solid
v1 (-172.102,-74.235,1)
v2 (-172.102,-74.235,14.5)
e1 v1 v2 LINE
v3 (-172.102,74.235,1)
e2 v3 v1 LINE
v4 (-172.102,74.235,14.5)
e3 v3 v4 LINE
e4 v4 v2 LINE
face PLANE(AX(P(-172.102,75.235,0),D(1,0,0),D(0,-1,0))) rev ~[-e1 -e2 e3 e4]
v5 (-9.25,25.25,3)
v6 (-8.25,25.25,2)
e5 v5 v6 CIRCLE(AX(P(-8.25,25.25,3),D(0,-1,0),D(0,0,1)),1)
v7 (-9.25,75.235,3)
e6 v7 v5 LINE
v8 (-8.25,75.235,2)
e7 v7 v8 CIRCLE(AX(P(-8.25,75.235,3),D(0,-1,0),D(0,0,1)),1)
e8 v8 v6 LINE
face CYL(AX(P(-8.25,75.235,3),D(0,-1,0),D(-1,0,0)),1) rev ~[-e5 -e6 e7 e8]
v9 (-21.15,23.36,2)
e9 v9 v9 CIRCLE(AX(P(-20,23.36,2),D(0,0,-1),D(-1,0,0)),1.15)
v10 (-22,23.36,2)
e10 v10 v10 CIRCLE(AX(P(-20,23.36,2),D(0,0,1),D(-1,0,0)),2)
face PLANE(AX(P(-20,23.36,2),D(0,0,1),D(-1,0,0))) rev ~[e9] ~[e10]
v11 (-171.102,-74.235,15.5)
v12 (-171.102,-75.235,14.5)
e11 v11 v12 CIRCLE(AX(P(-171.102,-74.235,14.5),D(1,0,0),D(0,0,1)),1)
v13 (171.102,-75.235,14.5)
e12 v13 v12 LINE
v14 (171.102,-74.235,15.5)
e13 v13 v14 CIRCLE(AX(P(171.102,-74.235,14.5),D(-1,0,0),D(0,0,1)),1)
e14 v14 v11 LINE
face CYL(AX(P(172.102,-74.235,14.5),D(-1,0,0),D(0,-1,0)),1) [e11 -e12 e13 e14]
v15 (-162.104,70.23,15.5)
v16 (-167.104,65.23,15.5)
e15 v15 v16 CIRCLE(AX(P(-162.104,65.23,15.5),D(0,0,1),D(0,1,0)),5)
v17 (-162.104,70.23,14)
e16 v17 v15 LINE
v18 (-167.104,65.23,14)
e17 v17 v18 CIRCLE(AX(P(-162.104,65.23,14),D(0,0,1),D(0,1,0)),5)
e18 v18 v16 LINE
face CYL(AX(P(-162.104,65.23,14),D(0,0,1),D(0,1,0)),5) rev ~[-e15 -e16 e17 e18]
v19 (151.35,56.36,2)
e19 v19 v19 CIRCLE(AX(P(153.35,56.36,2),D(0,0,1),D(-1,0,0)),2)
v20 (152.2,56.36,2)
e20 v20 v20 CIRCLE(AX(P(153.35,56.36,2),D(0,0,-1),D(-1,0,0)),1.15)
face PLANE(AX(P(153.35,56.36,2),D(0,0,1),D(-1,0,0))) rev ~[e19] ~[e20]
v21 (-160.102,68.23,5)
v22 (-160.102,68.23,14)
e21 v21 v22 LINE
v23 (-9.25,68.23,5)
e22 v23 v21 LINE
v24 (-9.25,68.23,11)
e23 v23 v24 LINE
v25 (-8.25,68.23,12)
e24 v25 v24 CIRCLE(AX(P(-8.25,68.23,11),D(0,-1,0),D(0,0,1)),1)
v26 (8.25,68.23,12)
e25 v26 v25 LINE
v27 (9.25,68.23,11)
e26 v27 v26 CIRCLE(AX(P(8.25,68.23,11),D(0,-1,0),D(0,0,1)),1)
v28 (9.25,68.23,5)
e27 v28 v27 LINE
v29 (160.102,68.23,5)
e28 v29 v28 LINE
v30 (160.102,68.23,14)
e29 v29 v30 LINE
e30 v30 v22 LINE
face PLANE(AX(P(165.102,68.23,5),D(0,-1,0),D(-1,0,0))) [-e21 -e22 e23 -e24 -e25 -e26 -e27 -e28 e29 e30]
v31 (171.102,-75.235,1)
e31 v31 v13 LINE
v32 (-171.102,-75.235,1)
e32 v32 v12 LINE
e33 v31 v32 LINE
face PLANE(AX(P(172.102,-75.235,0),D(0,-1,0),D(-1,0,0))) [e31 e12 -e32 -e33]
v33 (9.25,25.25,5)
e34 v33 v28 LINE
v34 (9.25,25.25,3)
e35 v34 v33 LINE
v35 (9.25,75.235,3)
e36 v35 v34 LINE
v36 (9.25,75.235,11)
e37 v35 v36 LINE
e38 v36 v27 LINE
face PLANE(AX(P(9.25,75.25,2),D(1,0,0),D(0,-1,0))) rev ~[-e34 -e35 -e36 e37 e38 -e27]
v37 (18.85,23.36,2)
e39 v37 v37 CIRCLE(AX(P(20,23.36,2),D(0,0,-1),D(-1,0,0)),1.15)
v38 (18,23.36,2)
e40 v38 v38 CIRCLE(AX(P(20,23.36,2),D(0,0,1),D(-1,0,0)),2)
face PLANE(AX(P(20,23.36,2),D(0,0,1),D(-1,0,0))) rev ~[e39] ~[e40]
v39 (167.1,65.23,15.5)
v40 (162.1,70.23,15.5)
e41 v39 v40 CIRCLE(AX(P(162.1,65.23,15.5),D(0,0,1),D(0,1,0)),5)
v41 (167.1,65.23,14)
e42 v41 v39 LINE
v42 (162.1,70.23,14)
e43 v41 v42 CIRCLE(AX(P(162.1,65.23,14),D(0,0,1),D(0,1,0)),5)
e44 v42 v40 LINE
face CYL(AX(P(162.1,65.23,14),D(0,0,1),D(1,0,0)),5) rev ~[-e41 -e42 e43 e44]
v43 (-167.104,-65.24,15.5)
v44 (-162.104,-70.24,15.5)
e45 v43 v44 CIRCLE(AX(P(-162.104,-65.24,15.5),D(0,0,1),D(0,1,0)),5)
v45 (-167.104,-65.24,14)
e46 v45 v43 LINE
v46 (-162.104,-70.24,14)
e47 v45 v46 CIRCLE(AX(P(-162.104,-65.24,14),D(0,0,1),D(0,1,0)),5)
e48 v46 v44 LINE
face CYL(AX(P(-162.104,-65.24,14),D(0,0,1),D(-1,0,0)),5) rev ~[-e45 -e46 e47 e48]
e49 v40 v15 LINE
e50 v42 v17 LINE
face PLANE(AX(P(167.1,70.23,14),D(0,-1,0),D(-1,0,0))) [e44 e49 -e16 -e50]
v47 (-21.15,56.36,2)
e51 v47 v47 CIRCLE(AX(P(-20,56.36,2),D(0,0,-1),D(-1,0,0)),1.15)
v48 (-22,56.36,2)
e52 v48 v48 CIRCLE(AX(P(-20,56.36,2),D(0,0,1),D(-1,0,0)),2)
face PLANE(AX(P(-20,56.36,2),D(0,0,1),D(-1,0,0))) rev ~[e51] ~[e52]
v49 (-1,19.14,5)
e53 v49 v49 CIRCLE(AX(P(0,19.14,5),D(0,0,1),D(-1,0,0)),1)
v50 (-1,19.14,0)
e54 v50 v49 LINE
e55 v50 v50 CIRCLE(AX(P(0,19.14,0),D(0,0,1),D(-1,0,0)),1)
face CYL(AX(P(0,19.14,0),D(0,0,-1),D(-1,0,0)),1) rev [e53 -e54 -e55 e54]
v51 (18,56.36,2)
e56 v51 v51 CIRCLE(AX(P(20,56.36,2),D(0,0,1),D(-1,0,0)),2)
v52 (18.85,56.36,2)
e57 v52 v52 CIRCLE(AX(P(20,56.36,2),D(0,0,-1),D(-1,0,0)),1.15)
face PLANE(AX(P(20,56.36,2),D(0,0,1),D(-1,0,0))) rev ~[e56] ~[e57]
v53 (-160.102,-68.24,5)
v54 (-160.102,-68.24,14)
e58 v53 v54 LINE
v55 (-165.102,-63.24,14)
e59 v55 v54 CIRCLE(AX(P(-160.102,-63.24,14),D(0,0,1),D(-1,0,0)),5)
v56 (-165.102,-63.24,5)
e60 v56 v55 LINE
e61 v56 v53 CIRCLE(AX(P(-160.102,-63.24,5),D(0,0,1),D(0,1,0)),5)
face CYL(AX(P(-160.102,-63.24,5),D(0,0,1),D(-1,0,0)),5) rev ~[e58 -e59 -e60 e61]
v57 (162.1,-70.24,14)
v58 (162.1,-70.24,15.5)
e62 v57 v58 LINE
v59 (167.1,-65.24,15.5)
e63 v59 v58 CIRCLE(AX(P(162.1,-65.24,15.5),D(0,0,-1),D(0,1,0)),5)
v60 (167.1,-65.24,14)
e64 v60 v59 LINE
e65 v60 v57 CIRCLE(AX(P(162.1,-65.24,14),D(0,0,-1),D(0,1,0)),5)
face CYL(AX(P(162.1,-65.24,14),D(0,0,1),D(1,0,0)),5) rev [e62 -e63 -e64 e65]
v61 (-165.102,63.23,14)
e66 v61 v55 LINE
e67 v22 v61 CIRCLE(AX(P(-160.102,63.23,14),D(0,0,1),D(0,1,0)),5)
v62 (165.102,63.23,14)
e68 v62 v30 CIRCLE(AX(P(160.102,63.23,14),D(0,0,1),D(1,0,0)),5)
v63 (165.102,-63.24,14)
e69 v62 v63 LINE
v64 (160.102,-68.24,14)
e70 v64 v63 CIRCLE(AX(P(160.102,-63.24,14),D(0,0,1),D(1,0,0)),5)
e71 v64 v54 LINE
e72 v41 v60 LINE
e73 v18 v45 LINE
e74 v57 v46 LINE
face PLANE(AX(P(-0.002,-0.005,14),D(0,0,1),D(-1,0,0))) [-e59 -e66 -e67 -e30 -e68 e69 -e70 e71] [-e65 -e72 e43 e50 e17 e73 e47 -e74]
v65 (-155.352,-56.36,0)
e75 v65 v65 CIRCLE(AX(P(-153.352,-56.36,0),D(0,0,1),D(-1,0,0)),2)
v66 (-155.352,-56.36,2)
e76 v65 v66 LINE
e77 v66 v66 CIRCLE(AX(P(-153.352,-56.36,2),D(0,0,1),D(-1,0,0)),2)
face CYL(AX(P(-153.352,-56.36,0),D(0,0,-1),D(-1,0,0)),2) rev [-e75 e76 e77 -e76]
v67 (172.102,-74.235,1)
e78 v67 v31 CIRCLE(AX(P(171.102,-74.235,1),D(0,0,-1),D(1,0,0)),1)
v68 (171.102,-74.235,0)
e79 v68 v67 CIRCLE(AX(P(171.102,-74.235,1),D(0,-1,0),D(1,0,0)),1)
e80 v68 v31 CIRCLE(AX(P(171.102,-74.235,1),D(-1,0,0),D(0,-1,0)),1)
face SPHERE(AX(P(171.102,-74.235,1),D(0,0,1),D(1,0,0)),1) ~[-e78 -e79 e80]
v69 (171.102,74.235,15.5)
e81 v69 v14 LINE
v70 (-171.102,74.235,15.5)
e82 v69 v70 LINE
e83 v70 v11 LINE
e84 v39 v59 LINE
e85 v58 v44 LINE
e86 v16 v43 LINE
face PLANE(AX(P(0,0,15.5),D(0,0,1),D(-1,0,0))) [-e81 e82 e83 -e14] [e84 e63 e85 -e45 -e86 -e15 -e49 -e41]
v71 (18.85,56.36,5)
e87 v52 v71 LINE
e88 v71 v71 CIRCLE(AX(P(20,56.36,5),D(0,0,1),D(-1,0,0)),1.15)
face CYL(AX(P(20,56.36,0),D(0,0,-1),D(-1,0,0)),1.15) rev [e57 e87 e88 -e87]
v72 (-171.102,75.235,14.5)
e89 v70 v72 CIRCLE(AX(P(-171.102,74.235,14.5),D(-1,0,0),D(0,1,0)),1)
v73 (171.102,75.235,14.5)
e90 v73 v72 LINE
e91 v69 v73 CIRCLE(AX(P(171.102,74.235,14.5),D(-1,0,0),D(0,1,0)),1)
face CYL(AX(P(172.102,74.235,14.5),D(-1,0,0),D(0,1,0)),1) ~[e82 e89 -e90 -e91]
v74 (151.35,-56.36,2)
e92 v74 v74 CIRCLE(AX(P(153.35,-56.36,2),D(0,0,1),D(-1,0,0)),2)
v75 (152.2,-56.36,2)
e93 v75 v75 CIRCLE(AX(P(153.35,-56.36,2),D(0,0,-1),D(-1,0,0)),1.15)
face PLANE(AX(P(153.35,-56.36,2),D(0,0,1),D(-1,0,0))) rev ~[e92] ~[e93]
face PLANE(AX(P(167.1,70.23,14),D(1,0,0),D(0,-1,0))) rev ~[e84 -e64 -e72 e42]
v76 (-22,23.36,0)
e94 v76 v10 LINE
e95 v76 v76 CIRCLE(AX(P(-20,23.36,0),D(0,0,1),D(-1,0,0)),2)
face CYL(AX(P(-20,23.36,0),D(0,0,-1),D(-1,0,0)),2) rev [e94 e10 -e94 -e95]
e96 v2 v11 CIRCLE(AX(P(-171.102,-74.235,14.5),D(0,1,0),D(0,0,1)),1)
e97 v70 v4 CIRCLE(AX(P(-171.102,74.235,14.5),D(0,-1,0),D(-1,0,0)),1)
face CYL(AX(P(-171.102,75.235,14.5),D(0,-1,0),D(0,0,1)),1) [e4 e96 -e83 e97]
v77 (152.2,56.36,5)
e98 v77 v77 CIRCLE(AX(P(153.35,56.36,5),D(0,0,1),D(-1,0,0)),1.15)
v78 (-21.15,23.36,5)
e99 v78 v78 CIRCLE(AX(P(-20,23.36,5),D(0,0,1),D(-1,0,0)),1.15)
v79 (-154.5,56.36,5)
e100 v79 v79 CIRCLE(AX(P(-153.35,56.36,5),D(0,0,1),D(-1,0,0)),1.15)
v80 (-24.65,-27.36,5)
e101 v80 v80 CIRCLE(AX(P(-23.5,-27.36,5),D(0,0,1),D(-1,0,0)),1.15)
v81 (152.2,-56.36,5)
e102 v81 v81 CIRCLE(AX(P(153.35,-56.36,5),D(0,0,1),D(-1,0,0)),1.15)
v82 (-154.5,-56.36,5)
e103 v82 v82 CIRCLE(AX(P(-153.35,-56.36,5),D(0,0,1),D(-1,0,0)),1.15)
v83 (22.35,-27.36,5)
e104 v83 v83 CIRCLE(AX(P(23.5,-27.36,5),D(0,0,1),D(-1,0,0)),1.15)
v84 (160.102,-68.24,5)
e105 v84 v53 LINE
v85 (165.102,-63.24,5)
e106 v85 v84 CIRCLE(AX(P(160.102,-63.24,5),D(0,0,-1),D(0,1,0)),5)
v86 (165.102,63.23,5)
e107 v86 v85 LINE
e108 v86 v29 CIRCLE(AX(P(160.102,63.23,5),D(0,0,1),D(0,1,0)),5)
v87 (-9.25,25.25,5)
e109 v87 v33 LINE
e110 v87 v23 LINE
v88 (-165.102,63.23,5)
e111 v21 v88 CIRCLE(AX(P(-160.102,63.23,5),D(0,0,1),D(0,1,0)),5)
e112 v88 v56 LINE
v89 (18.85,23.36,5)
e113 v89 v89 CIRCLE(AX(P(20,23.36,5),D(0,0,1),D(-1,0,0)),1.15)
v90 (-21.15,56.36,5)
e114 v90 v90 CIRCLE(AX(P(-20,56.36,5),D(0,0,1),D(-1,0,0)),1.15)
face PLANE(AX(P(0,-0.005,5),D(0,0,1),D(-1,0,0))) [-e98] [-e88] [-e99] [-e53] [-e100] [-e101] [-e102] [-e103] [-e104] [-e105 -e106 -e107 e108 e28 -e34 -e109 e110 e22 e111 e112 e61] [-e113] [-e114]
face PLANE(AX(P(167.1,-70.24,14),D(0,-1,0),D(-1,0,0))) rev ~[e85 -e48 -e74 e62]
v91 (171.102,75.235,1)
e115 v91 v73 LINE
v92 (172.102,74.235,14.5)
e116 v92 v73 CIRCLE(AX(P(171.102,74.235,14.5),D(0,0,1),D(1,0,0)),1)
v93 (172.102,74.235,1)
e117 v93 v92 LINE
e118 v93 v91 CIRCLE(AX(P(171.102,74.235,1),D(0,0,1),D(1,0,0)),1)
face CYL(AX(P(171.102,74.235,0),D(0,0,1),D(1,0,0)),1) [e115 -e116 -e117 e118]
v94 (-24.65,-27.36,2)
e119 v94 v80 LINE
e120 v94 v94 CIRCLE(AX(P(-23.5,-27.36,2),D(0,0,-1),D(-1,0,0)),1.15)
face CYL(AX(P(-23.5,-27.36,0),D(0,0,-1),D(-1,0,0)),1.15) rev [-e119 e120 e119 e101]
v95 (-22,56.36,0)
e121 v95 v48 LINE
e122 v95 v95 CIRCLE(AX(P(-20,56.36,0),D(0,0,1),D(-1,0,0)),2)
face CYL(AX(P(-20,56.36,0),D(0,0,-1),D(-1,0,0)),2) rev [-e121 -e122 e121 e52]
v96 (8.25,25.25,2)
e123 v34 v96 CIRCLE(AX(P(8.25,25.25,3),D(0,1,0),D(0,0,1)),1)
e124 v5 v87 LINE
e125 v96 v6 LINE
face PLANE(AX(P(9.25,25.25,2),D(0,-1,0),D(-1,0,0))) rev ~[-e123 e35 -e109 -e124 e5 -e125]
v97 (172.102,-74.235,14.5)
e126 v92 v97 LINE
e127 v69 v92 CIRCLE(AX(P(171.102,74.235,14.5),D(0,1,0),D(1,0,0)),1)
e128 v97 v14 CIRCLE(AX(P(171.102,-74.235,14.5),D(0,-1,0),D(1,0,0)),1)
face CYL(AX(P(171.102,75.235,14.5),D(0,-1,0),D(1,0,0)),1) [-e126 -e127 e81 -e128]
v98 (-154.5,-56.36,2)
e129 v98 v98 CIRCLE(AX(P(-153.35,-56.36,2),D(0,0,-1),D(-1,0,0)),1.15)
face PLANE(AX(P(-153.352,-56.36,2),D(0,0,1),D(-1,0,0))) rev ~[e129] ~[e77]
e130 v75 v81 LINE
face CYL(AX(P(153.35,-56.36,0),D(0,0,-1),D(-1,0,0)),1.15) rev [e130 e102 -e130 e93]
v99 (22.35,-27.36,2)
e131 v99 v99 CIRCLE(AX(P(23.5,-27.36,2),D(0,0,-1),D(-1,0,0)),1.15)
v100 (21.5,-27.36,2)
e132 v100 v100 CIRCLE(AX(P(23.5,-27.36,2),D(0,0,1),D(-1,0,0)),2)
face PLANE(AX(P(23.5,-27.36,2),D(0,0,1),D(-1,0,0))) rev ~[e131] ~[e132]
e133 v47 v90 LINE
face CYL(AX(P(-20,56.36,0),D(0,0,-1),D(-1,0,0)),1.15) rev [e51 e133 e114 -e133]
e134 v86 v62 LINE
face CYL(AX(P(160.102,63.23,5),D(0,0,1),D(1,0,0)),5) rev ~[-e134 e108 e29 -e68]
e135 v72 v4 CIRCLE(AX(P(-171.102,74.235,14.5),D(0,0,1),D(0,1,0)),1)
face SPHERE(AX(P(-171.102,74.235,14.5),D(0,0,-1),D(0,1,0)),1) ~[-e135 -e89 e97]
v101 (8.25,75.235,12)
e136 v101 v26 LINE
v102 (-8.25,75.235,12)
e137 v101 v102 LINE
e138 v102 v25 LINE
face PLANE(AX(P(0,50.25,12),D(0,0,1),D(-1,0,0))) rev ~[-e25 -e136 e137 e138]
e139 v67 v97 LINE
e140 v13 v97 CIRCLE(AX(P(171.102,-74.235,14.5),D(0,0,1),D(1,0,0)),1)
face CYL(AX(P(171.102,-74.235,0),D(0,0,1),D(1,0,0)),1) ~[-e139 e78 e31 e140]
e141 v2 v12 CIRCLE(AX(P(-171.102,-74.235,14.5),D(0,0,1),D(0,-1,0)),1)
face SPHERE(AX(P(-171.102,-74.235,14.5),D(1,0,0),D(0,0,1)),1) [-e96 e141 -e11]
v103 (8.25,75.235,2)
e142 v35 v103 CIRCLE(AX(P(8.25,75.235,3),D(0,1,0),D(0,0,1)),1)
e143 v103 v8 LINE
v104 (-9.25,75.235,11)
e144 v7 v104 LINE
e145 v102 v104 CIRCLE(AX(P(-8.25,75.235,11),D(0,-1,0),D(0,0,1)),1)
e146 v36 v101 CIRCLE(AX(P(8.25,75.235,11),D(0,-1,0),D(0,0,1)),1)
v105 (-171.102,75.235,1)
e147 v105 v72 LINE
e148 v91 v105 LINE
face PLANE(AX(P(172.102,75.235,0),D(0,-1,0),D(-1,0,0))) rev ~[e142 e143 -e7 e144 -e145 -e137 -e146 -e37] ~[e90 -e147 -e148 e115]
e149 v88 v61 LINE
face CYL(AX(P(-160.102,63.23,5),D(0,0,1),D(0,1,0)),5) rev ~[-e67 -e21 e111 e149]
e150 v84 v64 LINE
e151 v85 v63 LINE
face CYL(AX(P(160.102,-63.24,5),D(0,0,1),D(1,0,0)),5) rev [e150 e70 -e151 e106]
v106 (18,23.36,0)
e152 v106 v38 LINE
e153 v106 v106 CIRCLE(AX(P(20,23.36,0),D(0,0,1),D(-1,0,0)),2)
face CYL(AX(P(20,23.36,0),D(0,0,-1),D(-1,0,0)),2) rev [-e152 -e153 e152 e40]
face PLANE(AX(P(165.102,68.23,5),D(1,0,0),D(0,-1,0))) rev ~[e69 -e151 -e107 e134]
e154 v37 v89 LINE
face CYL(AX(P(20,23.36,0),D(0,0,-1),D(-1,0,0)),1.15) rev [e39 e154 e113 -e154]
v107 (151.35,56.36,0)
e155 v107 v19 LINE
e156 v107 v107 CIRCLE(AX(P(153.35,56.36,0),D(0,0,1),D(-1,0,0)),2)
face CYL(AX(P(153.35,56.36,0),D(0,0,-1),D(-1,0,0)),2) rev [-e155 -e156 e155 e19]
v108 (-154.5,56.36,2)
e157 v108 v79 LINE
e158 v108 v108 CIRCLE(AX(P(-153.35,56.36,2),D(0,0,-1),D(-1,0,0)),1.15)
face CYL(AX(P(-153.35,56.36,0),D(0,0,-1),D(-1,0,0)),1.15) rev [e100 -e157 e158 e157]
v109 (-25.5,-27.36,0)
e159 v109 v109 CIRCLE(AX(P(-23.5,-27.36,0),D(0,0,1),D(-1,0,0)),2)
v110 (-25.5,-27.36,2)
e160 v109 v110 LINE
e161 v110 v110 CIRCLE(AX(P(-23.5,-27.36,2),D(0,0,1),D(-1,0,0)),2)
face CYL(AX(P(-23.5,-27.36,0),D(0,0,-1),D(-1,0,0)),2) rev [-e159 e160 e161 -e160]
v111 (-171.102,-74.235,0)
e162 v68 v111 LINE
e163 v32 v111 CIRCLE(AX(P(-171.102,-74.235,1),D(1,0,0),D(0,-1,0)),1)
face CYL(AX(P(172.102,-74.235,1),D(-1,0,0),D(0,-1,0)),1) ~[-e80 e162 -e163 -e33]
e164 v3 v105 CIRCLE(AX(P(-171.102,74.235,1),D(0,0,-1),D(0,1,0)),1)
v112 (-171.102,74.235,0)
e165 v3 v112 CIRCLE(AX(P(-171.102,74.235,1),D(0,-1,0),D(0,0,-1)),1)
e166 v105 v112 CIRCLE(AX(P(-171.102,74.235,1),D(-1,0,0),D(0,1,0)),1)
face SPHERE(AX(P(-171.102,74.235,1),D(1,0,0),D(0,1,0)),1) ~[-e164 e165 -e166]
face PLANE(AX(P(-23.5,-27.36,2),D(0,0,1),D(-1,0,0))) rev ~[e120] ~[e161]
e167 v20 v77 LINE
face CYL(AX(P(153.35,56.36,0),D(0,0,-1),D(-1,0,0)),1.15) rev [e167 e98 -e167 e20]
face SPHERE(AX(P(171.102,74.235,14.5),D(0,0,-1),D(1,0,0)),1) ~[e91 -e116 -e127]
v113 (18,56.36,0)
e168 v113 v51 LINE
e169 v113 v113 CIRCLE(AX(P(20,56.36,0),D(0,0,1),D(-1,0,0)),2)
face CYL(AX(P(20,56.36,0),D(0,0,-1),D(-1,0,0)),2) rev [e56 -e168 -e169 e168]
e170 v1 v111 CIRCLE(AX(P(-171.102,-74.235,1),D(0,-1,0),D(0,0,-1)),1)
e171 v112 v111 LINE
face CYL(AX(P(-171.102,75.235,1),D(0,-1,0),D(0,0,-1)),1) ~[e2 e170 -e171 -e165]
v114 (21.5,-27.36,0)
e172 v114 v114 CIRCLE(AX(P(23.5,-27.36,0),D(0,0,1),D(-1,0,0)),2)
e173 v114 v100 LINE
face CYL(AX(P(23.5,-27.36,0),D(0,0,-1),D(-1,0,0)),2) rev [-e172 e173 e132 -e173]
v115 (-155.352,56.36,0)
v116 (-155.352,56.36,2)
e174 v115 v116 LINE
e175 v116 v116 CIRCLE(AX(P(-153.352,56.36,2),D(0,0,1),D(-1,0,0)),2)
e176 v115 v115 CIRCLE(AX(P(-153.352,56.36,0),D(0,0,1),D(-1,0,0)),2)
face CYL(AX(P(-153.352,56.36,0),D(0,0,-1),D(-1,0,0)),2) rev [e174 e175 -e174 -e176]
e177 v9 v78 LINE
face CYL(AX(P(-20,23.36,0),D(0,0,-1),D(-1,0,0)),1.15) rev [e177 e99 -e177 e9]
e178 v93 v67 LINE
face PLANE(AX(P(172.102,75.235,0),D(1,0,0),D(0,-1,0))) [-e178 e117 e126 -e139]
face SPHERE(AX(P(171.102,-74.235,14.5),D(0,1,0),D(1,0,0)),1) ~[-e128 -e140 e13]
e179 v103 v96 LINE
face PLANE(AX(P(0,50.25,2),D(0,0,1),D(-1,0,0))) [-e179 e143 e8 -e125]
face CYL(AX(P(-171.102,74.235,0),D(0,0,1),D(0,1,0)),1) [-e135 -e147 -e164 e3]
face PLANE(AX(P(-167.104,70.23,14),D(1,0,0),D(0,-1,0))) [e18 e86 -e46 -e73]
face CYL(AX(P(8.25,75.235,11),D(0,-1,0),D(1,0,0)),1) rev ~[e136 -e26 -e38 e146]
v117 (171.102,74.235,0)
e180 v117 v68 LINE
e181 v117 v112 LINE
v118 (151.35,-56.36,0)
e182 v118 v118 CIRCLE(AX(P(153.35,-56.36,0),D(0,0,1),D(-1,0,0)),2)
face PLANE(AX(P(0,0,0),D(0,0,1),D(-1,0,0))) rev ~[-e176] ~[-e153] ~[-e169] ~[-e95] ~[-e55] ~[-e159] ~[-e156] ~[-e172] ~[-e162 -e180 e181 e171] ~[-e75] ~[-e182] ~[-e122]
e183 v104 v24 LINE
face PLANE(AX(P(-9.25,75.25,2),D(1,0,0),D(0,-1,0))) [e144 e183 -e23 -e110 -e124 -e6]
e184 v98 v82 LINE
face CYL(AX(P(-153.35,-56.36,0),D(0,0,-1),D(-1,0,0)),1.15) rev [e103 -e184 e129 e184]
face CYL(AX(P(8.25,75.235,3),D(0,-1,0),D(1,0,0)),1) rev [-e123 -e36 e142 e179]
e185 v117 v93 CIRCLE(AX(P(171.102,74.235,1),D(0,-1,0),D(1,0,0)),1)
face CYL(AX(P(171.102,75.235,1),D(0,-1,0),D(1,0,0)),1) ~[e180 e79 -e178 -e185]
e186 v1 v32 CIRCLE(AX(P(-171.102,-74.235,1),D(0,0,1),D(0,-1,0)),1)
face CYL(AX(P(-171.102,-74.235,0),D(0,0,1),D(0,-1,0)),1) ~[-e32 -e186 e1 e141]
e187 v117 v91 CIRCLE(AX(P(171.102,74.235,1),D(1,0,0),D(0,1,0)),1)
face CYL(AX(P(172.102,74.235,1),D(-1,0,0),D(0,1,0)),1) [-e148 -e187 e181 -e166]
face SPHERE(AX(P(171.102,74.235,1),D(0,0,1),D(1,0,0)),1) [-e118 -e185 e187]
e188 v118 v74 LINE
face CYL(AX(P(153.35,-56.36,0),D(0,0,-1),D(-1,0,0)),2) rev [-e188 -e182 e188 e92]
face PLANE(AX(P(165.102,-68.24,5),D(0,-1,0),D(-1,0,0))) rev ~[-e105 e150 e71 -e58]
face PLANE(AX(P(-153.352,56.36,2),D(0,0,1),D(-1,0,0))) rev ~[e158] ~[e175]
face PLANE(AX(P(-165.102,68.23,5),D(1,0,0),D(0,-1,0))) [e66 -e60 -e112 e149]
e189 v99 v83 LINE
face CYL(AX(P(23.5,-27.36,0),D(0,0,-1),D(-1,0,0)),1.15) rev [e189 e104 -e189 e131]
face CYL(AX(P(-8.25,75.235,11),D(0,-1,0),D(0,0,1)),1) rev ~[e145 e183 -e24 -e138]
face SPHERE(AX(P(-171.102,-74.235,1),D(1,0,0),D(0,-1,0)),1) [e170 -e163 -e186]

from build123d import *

# Parameters (mm, degrees)
CYLINDER016_R          = 2
CYLINDER016_DEPTH      = 2
CYLINDER012_R          = 2
CYLINDER012_DEPTH      = 2
CYLINDER015_R          = 2
CYLINDER015_DEPTH      = 2
CYLINDER017_R          = 2
CYLINDER017_DEPTH      = 2
CYLINDER013_R          = 2
CYLINDER013_DEPTH      = 2
CYLINDER014_R          = 2
CYLINDER014_DEPTH      = 2
CYLINDER018_R          = 2
CYLINDER018_DEPTH      = 2
CYLINDER019_R          = 2
CYLINDER019_DEPTH      = 2
CYLINDER020_R          = 2
CYLINDER020_DEPTH      = 2
CYLINDER011_R          = 2
CYLINDER011_DEPTH      = 2
BOX003_W               = 18.5
BOX003_H               = 50
BOX003_DEPTH           = 10
CYLINDER010_R          = 1
CYLINDER010_DEPTH      = 5
CYLINDER008_R          = 1.15
CYLINDER008_DEPTH      = 5
CYLINDER006_R          = 1.15
CYLINDER006_DEPTH      = 5
CYLINDER009_R          = 1.15
CYLINDER009_DEPTH      = 5
CYLINDER007_R          = 1.15
CYLINDER007_DEPTH      = 5
CYLINDER001_R          = 1.15
CYLINDER001_DEPTH      = 5
CYLINDER002_R          = 1.15
CYLINDER002_DEPTH      = 5
CYLINDER003_R          = 1.15
CYLINDER003_DEPTH      = 5
CYLINDER004_R          = 1.15
CYLINDER004_DEPTH      = 5
CYLINDER005_R          = 1.15
CYLINDER005_DEPTH      = 5
CYLINDER_R             = 1.15
CYLINDER_DEPTH         = 5
BOX001_W               = 334.204
BOX001_H               = 140.47
BOX001_DEPTH           = 1.5
FILLET001_R            = 5
BOX_W                  = 330.204
BOX_H                  = 136.47
BOX_DEPTH              = 10.5
FILLET_R               = 5
BOX002_W               = 344.204
BOX002_H               = 150.47
BOX002_DEPTH           = 15.5
FILLET002_R            = 1
FILLET003_R            = 1
CUT005_PLACEMENT_ANGLE = 180


with BuildPart() as cylinder016:
    # Cylinder016 → Cylinder016 (new body)
    with BuildSketch(Plane(origin=(23.5, 27.36, 0), x_dir=(1, 0, 0), z_dir=(0, 0, 1))):
        Circle(CYLINDER016_R)
    extrude(amount=CYLINDER016_DEPTH)


with BuildPart() as cylinder012:
    # Cylinder012 → Cylinder012 (new body)
    with BuildSketch(Plane(origin=(-153.35, 56.36, 0), x_dir=(1, 0, 0), z_dir=(0, 0, 1))):
        Circle(CYLINDER012_R)
    extrude(amount=CYLINDER012_DEPTH)


with BuildPart() as cylinder015:
    # Cylinder015 → Cylinder015 (new body)
    with BuildSketch(Plane(origin=(-23.5, 27.36, 0), x_dir=(1, 0, 0), z_dir=(0, 0, 1))):
        Circle(CYLINDER015_R)
    extrude(amount=CYLINDER015_DEPTH)


with BuildPart() as cylinder017:
    # Cylinder017 → Cylinder017 (new body)
    with BuildSketch(Plane(origin=(153.352, -56.36, 0), x_dir=(1, 0, 0), z_dir=(0, 0, 1))):
        Circle(CYLINDER017_R)
    extrude(amount=CYLINDER017_DEPTH)


with BuildPart() as cylinder013:
    # Cylinder013 → Cylinder013 (new body)
    with BuildSketch(Plane(origin=(-20, -23.36, 0), x_dir=(1, 0, 0), z_dir=(0, 0, 1))):
        Circle(CYLINDER013_R)
    extrude(amount=CYLINDER013_DEPTH)


with BuildPart() as cylinder014:
    # Cylinder014 → Cylinder014 (new body)
    with BuildSketch(Plane(origin=(-20, -56.36, 0), x_dir=(1, 0, 0), z_dir=(0, 0, 1))):
        Circle(CYLINDER014_R)
    extrude(amount=CYLINDER014_DEPTH)


with BuildPart() as cylinder018:
    # Cylinder018 → Cylinder018 (new body)
    with BuildSketch(Plane(origin=(153.352, 56.36, 0), x_dir=(1, 0, 0), z_dir=(0, 0, 1))):
        Circle(CYLINDER018_R)
    extrude(amount=CYLINDER018_DEPTH)


with BuildPart() as cylinder019:
    # Cylinder019 → Cylinder019 (new body)
    with BuildSketch(Plane(origin=(20, -23.36, 0), x_dir=(1, 0, 0), z_dir=(0, 0, 1))):
        Circle(CYLINDER019_R)
    extrude(amount=CYLINDER019_DEPTH)


with BuildPart() as cylinder020:
    # Cylinder020 → Cylinder020 (new body)
    with BuildSketch(Plane(origin=(20, -56.36, 0), x_dir=(1, 0, 0), z_dir=(0, 0, 1))):
        Circle(CYLINDER020_R)
    extrude(amount=CYLINDER020_DEPTH)


with BuildPart() as fusion001:
    # Cylinder011 → Cylinder011 (new body)
    with BuildSketch(Plane(origin=(-153.35, -56.36, 0), x_dir=(1, 0, 0), z_dir=(0, 0, 1))):
        Circle(CYLINDER011_R)
    extrude(amount=CYLINDER011_DEPTH)

    # Fusion001: union Cylinder016, Cylinder012, Cylinder015, Cylinder017, Cylinder013, Cylinder014, Cylinder018, Cylinder019, Cylinder020
    add(cylinder016.part)
    add(cylinder012.part)
    add(cylinder015.part)
    add(cylinder017.part)
    add(cylinder013.part)
    add(cylinder014.part)
    add(cylinder018.part)
    add(cylinder019.part)
    add(cylinder020.part)


with BuildPart() as cube003:
    # Box003 → Box003 (new body)
    with BuildSketch(Plane(origin=(-9.25, -75.25, 2), x_dir=(1, 0, 0), z_dir=(0, 0, 1))):
        with Locations((9.25, 25)):
            Rectangle(BOX003_W, BOX003_H)
    extrude(amount=BOX003_DEPTH)


with BuildPart() as cylinder010:
    # Cylinder010 → Cylinder010 (new body)
    with BuildSketch(Plane(origin=(0, -19.14, 0), x_dir=(1, 0, 0), z_dir=(0, 0, 1))):
        Circle(CYLINDER010_R)
    extrude(amount=CYLINDER010_DEPTH)


with BuildPart() as cylinder008:
    # Cylinder008 → Cylinder008 (new body)
    with BuildSketch(Plane(origin=(-23.5, 27.36, 0), x_dir=(1, 0, 0), z_dir=(0, 0, 1))):
        Circle(CYLINDER008_R)
    extrude(amount=CYLINDER008_DEPTH)


with BuildPart() as cylinder006:
    # Cylinder006 → Cylinder006 (new body)
    with BuildSketch(Plane(origin=(-20, -23.36, 0), x_dir=(1, 0, 0), z_dir=(0, 0, 1))):
        Circle(CYLINDER006_R)
    extrude(amount=CYLINDER006_DEPTH)


with BuildPart() as cylinder009:
    # Cylinder009 → Cylinder009 (new body)
    with BuildSketch(Plane(origin=(23.5, 27.36, 0), x_dir=(1, 0, 0), z_dir=(0, 0, 1))):
        Circle(CYLINDER009_R)
    extrude(amount=CYLINDER009_DEPTH)


with BuildPart() as cylinder007:
    # Cylinder007 → Cylinder007 (new body)
    with BuildSketch(Plane(origin=(20, -23.36, 0), x_dir=(1, 0, 0), z_dir=(0, 0, 1))):
        Circle(CYLINDER007_R)
    extrude(amount=CYLINDER007_DEPTH)


with BuildPart() as cylinder001:
    # Cylinder001 → Cylinder001 (new body)
    with BuildSketch(Plane(origin=(153.35, -56.36, 0), x_dir=(1, 0, 0), z_dir=(0, 0, 1))):
        Circle(CYLINDER001_R)
    extrude(amount=CYLINDER001_DEPTH)


with BuildPart() as cylinder002:
    # Cylinder002 → Cylinder002 (new body)
    with BuildSketch(Plane(origin=(-153.35, 56.36, 0), x_dir=(1, 0, 0), z_dir=(0, 0, 1))):
        Circle(CYLINDER002_R)
    extrude(amount=CYLINDER002_DEPTH)


with BuildPart() as cylinder003:
    # Cylinder003 → Cylinder003 (new body)
    with BuildSketch(Plane(origin=(-153.35, -56.36, 0), x_dir=(1, 0, 0), z_dir=(0, 0, 1))):
        Circle(CYLINDER003_R)
    extrude(amount=CYLINDER003_DEPTH)


with BuildPart() as cylinder004:
    # Cylinder004 → Cylinder004 (new body)
    with BuildSketch(Plane(origin=(-20, -56.36, 0), x_dir=(1, 0, 0), z_dir=(0, 0, 1))):
        Circle(CYLINDER004_R)
    extrude(amount=CYLINDER004_DEPTH)


with BuildPart() as cylinder005:
    # Cylinder005 → Cylinder005 (new body)
    with BuildSketch(Plane(origin=(20, -56.36, 0), x_dir=(1, 0, 0), z_dir=(0, 0, 1))):
        Circle(CYLINDER005_R)
    extrude(amount=CYLINDER005_DEPTH)


with BuildPart() as fusion:
    # Cylinder → Cylinder (new body)
    with BuildSketch(Plane(origin=(153.35, 56.36, 0), x_dir=(1, 0, 0), z_dir=(0, 0, 1))):
        Circle(CYLINDER_R)
    extrude(amount=CYLINDER_DEPTH)

    # Fusion: union Cylinder008, Cylinder006, Cylinder009, Cylinder007, Cylinder001, Cylinder002, Cylinder003, Cylinder004, Cylinder005
    add(cylinder008.part)
    add(cylinder006.part)
    add(cylinder009.part)
    add(cylinder007.part)
    add(cylinder001.part)
    add(cylinder002.part)
    add(cylinder003.part)
    add(cylinder004.part)
    add(cylinder005.part)


with BuildPart() as fillet001:
    # Box001 → Box001 (new body)
    with BuildSketch(Plane(origin=(-167.1, -70.23, 14), x_dir=(1, 0, 0), z_dir=(0, 0, 1))):
        with Locations((167.102, 70.235)):
            Rectangle(BOX001_W, BOX001_H)
    extrude(amount=BOX001_DEPTH)

    # Fillet001
    fillet001_edges = [fillet001.edges().sort_by_distance(p)[0] for p in [
        (-167.1, -70.23, 14.75),
        (-167.1, 70.24, 14.75),
        (167.104, -70.23, 14.75),
        (167.104, 70.24, 14.75),
    ]]
    fillet(fillet001_edges, radius=FILLET001_R)


with BuildPart() as fillet_body:
    # Box → Box (new body)
    with BuildSketch(Plane(origin=(-165.102, -68.23, 5), x_dir=(1, 0, 0), z_dir=(0, 0, 1))):
        with Locations((165.102, 68.235)):
            Rectangle(BOX_W, BOX_H)
    extrude(amount=BOX_DEPTH)

    # Fillet
    fillet_edges = [fillet_body.edges().sort_by_distance(p)[0] for p in [
        (-165.102, -68.23, 10.25),
        (-165.102, 68.24, 10.25),
        (165.102, -68.23, 10.25),
        (165.102, 68.24, 10.25),
    ]]
    fillet(fillet_edges, radius=FILLET_R)


with BuildPart() as cut005:
    # Box002 → Box002 (new body)
    with BuildSketch(Plane(origin=(-172.102, -75.235, 0), x_dir=(1, 0, 0), z_dir=(0, 0, 1))):
        with Locations((172.102, 75.235)):
            Rectangle(BOX002_W, BOX002_H)
    extrude(amount=BOX002_DEPTH)

    # Cut: cut Fillet body
    add(fillet_body.part, mode=Mode.SUBTRACT)

    # Cut001: cut Fillet001
    add(fillet001.part, mode=Mode.SUBTRACT)

    # Cut002: cut Fusion
    add(fusion.part, mode=Mode.SUBTRACT)

    # Cut003: cut Cylinder010
    add(cylinder010.part, mode=Mode.SUBTRACT)

    # Cut004: cut Cube003
    add(cube003.part, mode=Mode.SUBTRACT)

    # Fillet002
    fillet002_edges = [cut005.edges().sort_by_distance(p)[0] for p in [
        (-172.102, -75.235, 7.75),
        (-172.102, 0, 15.5),
        (-172.102, 75.235, 7.75),
        (-172.102, 0, 0),
        (0, -75.235, 0),
        (172.102, -75.235, 7.75),
        (0, -75.235, 15.5),
        (0, 75.235, 15.5),
        (172.102, 0, 15.5),
        (0, 75.235, 0),
        (172.102, 75.235, 7.75),
        (172.102, 0, 0),
    ]]
    fillet(fillet002_edges, radius=FILLET002_R)

    # Fillet003
    fillet003_edges = [cut005.edges().sort_by_distance(p)[0] for p in [
        (-9.25, -71.7325, 12),
        (9.25, -71.7325, 12),
        (9.25, -50.2425, 2),
        (-9.25, -50.2425, 2),
    ]]
    fillet(fillet003_edges, radius=FILLET003_R)

    # Cut005: cut Fusion001
    add(fusion001.part, mode=Mode.SUBTRACT)


with BuildPart() as cut005_1:
    # Cut005 placement: moved
    add(cut005.part.rotate(Axis((0, 0, 0), (0, 0, 1)), CUT005_PLACEMENT_ANGLE))


solid = cut005_1.part
